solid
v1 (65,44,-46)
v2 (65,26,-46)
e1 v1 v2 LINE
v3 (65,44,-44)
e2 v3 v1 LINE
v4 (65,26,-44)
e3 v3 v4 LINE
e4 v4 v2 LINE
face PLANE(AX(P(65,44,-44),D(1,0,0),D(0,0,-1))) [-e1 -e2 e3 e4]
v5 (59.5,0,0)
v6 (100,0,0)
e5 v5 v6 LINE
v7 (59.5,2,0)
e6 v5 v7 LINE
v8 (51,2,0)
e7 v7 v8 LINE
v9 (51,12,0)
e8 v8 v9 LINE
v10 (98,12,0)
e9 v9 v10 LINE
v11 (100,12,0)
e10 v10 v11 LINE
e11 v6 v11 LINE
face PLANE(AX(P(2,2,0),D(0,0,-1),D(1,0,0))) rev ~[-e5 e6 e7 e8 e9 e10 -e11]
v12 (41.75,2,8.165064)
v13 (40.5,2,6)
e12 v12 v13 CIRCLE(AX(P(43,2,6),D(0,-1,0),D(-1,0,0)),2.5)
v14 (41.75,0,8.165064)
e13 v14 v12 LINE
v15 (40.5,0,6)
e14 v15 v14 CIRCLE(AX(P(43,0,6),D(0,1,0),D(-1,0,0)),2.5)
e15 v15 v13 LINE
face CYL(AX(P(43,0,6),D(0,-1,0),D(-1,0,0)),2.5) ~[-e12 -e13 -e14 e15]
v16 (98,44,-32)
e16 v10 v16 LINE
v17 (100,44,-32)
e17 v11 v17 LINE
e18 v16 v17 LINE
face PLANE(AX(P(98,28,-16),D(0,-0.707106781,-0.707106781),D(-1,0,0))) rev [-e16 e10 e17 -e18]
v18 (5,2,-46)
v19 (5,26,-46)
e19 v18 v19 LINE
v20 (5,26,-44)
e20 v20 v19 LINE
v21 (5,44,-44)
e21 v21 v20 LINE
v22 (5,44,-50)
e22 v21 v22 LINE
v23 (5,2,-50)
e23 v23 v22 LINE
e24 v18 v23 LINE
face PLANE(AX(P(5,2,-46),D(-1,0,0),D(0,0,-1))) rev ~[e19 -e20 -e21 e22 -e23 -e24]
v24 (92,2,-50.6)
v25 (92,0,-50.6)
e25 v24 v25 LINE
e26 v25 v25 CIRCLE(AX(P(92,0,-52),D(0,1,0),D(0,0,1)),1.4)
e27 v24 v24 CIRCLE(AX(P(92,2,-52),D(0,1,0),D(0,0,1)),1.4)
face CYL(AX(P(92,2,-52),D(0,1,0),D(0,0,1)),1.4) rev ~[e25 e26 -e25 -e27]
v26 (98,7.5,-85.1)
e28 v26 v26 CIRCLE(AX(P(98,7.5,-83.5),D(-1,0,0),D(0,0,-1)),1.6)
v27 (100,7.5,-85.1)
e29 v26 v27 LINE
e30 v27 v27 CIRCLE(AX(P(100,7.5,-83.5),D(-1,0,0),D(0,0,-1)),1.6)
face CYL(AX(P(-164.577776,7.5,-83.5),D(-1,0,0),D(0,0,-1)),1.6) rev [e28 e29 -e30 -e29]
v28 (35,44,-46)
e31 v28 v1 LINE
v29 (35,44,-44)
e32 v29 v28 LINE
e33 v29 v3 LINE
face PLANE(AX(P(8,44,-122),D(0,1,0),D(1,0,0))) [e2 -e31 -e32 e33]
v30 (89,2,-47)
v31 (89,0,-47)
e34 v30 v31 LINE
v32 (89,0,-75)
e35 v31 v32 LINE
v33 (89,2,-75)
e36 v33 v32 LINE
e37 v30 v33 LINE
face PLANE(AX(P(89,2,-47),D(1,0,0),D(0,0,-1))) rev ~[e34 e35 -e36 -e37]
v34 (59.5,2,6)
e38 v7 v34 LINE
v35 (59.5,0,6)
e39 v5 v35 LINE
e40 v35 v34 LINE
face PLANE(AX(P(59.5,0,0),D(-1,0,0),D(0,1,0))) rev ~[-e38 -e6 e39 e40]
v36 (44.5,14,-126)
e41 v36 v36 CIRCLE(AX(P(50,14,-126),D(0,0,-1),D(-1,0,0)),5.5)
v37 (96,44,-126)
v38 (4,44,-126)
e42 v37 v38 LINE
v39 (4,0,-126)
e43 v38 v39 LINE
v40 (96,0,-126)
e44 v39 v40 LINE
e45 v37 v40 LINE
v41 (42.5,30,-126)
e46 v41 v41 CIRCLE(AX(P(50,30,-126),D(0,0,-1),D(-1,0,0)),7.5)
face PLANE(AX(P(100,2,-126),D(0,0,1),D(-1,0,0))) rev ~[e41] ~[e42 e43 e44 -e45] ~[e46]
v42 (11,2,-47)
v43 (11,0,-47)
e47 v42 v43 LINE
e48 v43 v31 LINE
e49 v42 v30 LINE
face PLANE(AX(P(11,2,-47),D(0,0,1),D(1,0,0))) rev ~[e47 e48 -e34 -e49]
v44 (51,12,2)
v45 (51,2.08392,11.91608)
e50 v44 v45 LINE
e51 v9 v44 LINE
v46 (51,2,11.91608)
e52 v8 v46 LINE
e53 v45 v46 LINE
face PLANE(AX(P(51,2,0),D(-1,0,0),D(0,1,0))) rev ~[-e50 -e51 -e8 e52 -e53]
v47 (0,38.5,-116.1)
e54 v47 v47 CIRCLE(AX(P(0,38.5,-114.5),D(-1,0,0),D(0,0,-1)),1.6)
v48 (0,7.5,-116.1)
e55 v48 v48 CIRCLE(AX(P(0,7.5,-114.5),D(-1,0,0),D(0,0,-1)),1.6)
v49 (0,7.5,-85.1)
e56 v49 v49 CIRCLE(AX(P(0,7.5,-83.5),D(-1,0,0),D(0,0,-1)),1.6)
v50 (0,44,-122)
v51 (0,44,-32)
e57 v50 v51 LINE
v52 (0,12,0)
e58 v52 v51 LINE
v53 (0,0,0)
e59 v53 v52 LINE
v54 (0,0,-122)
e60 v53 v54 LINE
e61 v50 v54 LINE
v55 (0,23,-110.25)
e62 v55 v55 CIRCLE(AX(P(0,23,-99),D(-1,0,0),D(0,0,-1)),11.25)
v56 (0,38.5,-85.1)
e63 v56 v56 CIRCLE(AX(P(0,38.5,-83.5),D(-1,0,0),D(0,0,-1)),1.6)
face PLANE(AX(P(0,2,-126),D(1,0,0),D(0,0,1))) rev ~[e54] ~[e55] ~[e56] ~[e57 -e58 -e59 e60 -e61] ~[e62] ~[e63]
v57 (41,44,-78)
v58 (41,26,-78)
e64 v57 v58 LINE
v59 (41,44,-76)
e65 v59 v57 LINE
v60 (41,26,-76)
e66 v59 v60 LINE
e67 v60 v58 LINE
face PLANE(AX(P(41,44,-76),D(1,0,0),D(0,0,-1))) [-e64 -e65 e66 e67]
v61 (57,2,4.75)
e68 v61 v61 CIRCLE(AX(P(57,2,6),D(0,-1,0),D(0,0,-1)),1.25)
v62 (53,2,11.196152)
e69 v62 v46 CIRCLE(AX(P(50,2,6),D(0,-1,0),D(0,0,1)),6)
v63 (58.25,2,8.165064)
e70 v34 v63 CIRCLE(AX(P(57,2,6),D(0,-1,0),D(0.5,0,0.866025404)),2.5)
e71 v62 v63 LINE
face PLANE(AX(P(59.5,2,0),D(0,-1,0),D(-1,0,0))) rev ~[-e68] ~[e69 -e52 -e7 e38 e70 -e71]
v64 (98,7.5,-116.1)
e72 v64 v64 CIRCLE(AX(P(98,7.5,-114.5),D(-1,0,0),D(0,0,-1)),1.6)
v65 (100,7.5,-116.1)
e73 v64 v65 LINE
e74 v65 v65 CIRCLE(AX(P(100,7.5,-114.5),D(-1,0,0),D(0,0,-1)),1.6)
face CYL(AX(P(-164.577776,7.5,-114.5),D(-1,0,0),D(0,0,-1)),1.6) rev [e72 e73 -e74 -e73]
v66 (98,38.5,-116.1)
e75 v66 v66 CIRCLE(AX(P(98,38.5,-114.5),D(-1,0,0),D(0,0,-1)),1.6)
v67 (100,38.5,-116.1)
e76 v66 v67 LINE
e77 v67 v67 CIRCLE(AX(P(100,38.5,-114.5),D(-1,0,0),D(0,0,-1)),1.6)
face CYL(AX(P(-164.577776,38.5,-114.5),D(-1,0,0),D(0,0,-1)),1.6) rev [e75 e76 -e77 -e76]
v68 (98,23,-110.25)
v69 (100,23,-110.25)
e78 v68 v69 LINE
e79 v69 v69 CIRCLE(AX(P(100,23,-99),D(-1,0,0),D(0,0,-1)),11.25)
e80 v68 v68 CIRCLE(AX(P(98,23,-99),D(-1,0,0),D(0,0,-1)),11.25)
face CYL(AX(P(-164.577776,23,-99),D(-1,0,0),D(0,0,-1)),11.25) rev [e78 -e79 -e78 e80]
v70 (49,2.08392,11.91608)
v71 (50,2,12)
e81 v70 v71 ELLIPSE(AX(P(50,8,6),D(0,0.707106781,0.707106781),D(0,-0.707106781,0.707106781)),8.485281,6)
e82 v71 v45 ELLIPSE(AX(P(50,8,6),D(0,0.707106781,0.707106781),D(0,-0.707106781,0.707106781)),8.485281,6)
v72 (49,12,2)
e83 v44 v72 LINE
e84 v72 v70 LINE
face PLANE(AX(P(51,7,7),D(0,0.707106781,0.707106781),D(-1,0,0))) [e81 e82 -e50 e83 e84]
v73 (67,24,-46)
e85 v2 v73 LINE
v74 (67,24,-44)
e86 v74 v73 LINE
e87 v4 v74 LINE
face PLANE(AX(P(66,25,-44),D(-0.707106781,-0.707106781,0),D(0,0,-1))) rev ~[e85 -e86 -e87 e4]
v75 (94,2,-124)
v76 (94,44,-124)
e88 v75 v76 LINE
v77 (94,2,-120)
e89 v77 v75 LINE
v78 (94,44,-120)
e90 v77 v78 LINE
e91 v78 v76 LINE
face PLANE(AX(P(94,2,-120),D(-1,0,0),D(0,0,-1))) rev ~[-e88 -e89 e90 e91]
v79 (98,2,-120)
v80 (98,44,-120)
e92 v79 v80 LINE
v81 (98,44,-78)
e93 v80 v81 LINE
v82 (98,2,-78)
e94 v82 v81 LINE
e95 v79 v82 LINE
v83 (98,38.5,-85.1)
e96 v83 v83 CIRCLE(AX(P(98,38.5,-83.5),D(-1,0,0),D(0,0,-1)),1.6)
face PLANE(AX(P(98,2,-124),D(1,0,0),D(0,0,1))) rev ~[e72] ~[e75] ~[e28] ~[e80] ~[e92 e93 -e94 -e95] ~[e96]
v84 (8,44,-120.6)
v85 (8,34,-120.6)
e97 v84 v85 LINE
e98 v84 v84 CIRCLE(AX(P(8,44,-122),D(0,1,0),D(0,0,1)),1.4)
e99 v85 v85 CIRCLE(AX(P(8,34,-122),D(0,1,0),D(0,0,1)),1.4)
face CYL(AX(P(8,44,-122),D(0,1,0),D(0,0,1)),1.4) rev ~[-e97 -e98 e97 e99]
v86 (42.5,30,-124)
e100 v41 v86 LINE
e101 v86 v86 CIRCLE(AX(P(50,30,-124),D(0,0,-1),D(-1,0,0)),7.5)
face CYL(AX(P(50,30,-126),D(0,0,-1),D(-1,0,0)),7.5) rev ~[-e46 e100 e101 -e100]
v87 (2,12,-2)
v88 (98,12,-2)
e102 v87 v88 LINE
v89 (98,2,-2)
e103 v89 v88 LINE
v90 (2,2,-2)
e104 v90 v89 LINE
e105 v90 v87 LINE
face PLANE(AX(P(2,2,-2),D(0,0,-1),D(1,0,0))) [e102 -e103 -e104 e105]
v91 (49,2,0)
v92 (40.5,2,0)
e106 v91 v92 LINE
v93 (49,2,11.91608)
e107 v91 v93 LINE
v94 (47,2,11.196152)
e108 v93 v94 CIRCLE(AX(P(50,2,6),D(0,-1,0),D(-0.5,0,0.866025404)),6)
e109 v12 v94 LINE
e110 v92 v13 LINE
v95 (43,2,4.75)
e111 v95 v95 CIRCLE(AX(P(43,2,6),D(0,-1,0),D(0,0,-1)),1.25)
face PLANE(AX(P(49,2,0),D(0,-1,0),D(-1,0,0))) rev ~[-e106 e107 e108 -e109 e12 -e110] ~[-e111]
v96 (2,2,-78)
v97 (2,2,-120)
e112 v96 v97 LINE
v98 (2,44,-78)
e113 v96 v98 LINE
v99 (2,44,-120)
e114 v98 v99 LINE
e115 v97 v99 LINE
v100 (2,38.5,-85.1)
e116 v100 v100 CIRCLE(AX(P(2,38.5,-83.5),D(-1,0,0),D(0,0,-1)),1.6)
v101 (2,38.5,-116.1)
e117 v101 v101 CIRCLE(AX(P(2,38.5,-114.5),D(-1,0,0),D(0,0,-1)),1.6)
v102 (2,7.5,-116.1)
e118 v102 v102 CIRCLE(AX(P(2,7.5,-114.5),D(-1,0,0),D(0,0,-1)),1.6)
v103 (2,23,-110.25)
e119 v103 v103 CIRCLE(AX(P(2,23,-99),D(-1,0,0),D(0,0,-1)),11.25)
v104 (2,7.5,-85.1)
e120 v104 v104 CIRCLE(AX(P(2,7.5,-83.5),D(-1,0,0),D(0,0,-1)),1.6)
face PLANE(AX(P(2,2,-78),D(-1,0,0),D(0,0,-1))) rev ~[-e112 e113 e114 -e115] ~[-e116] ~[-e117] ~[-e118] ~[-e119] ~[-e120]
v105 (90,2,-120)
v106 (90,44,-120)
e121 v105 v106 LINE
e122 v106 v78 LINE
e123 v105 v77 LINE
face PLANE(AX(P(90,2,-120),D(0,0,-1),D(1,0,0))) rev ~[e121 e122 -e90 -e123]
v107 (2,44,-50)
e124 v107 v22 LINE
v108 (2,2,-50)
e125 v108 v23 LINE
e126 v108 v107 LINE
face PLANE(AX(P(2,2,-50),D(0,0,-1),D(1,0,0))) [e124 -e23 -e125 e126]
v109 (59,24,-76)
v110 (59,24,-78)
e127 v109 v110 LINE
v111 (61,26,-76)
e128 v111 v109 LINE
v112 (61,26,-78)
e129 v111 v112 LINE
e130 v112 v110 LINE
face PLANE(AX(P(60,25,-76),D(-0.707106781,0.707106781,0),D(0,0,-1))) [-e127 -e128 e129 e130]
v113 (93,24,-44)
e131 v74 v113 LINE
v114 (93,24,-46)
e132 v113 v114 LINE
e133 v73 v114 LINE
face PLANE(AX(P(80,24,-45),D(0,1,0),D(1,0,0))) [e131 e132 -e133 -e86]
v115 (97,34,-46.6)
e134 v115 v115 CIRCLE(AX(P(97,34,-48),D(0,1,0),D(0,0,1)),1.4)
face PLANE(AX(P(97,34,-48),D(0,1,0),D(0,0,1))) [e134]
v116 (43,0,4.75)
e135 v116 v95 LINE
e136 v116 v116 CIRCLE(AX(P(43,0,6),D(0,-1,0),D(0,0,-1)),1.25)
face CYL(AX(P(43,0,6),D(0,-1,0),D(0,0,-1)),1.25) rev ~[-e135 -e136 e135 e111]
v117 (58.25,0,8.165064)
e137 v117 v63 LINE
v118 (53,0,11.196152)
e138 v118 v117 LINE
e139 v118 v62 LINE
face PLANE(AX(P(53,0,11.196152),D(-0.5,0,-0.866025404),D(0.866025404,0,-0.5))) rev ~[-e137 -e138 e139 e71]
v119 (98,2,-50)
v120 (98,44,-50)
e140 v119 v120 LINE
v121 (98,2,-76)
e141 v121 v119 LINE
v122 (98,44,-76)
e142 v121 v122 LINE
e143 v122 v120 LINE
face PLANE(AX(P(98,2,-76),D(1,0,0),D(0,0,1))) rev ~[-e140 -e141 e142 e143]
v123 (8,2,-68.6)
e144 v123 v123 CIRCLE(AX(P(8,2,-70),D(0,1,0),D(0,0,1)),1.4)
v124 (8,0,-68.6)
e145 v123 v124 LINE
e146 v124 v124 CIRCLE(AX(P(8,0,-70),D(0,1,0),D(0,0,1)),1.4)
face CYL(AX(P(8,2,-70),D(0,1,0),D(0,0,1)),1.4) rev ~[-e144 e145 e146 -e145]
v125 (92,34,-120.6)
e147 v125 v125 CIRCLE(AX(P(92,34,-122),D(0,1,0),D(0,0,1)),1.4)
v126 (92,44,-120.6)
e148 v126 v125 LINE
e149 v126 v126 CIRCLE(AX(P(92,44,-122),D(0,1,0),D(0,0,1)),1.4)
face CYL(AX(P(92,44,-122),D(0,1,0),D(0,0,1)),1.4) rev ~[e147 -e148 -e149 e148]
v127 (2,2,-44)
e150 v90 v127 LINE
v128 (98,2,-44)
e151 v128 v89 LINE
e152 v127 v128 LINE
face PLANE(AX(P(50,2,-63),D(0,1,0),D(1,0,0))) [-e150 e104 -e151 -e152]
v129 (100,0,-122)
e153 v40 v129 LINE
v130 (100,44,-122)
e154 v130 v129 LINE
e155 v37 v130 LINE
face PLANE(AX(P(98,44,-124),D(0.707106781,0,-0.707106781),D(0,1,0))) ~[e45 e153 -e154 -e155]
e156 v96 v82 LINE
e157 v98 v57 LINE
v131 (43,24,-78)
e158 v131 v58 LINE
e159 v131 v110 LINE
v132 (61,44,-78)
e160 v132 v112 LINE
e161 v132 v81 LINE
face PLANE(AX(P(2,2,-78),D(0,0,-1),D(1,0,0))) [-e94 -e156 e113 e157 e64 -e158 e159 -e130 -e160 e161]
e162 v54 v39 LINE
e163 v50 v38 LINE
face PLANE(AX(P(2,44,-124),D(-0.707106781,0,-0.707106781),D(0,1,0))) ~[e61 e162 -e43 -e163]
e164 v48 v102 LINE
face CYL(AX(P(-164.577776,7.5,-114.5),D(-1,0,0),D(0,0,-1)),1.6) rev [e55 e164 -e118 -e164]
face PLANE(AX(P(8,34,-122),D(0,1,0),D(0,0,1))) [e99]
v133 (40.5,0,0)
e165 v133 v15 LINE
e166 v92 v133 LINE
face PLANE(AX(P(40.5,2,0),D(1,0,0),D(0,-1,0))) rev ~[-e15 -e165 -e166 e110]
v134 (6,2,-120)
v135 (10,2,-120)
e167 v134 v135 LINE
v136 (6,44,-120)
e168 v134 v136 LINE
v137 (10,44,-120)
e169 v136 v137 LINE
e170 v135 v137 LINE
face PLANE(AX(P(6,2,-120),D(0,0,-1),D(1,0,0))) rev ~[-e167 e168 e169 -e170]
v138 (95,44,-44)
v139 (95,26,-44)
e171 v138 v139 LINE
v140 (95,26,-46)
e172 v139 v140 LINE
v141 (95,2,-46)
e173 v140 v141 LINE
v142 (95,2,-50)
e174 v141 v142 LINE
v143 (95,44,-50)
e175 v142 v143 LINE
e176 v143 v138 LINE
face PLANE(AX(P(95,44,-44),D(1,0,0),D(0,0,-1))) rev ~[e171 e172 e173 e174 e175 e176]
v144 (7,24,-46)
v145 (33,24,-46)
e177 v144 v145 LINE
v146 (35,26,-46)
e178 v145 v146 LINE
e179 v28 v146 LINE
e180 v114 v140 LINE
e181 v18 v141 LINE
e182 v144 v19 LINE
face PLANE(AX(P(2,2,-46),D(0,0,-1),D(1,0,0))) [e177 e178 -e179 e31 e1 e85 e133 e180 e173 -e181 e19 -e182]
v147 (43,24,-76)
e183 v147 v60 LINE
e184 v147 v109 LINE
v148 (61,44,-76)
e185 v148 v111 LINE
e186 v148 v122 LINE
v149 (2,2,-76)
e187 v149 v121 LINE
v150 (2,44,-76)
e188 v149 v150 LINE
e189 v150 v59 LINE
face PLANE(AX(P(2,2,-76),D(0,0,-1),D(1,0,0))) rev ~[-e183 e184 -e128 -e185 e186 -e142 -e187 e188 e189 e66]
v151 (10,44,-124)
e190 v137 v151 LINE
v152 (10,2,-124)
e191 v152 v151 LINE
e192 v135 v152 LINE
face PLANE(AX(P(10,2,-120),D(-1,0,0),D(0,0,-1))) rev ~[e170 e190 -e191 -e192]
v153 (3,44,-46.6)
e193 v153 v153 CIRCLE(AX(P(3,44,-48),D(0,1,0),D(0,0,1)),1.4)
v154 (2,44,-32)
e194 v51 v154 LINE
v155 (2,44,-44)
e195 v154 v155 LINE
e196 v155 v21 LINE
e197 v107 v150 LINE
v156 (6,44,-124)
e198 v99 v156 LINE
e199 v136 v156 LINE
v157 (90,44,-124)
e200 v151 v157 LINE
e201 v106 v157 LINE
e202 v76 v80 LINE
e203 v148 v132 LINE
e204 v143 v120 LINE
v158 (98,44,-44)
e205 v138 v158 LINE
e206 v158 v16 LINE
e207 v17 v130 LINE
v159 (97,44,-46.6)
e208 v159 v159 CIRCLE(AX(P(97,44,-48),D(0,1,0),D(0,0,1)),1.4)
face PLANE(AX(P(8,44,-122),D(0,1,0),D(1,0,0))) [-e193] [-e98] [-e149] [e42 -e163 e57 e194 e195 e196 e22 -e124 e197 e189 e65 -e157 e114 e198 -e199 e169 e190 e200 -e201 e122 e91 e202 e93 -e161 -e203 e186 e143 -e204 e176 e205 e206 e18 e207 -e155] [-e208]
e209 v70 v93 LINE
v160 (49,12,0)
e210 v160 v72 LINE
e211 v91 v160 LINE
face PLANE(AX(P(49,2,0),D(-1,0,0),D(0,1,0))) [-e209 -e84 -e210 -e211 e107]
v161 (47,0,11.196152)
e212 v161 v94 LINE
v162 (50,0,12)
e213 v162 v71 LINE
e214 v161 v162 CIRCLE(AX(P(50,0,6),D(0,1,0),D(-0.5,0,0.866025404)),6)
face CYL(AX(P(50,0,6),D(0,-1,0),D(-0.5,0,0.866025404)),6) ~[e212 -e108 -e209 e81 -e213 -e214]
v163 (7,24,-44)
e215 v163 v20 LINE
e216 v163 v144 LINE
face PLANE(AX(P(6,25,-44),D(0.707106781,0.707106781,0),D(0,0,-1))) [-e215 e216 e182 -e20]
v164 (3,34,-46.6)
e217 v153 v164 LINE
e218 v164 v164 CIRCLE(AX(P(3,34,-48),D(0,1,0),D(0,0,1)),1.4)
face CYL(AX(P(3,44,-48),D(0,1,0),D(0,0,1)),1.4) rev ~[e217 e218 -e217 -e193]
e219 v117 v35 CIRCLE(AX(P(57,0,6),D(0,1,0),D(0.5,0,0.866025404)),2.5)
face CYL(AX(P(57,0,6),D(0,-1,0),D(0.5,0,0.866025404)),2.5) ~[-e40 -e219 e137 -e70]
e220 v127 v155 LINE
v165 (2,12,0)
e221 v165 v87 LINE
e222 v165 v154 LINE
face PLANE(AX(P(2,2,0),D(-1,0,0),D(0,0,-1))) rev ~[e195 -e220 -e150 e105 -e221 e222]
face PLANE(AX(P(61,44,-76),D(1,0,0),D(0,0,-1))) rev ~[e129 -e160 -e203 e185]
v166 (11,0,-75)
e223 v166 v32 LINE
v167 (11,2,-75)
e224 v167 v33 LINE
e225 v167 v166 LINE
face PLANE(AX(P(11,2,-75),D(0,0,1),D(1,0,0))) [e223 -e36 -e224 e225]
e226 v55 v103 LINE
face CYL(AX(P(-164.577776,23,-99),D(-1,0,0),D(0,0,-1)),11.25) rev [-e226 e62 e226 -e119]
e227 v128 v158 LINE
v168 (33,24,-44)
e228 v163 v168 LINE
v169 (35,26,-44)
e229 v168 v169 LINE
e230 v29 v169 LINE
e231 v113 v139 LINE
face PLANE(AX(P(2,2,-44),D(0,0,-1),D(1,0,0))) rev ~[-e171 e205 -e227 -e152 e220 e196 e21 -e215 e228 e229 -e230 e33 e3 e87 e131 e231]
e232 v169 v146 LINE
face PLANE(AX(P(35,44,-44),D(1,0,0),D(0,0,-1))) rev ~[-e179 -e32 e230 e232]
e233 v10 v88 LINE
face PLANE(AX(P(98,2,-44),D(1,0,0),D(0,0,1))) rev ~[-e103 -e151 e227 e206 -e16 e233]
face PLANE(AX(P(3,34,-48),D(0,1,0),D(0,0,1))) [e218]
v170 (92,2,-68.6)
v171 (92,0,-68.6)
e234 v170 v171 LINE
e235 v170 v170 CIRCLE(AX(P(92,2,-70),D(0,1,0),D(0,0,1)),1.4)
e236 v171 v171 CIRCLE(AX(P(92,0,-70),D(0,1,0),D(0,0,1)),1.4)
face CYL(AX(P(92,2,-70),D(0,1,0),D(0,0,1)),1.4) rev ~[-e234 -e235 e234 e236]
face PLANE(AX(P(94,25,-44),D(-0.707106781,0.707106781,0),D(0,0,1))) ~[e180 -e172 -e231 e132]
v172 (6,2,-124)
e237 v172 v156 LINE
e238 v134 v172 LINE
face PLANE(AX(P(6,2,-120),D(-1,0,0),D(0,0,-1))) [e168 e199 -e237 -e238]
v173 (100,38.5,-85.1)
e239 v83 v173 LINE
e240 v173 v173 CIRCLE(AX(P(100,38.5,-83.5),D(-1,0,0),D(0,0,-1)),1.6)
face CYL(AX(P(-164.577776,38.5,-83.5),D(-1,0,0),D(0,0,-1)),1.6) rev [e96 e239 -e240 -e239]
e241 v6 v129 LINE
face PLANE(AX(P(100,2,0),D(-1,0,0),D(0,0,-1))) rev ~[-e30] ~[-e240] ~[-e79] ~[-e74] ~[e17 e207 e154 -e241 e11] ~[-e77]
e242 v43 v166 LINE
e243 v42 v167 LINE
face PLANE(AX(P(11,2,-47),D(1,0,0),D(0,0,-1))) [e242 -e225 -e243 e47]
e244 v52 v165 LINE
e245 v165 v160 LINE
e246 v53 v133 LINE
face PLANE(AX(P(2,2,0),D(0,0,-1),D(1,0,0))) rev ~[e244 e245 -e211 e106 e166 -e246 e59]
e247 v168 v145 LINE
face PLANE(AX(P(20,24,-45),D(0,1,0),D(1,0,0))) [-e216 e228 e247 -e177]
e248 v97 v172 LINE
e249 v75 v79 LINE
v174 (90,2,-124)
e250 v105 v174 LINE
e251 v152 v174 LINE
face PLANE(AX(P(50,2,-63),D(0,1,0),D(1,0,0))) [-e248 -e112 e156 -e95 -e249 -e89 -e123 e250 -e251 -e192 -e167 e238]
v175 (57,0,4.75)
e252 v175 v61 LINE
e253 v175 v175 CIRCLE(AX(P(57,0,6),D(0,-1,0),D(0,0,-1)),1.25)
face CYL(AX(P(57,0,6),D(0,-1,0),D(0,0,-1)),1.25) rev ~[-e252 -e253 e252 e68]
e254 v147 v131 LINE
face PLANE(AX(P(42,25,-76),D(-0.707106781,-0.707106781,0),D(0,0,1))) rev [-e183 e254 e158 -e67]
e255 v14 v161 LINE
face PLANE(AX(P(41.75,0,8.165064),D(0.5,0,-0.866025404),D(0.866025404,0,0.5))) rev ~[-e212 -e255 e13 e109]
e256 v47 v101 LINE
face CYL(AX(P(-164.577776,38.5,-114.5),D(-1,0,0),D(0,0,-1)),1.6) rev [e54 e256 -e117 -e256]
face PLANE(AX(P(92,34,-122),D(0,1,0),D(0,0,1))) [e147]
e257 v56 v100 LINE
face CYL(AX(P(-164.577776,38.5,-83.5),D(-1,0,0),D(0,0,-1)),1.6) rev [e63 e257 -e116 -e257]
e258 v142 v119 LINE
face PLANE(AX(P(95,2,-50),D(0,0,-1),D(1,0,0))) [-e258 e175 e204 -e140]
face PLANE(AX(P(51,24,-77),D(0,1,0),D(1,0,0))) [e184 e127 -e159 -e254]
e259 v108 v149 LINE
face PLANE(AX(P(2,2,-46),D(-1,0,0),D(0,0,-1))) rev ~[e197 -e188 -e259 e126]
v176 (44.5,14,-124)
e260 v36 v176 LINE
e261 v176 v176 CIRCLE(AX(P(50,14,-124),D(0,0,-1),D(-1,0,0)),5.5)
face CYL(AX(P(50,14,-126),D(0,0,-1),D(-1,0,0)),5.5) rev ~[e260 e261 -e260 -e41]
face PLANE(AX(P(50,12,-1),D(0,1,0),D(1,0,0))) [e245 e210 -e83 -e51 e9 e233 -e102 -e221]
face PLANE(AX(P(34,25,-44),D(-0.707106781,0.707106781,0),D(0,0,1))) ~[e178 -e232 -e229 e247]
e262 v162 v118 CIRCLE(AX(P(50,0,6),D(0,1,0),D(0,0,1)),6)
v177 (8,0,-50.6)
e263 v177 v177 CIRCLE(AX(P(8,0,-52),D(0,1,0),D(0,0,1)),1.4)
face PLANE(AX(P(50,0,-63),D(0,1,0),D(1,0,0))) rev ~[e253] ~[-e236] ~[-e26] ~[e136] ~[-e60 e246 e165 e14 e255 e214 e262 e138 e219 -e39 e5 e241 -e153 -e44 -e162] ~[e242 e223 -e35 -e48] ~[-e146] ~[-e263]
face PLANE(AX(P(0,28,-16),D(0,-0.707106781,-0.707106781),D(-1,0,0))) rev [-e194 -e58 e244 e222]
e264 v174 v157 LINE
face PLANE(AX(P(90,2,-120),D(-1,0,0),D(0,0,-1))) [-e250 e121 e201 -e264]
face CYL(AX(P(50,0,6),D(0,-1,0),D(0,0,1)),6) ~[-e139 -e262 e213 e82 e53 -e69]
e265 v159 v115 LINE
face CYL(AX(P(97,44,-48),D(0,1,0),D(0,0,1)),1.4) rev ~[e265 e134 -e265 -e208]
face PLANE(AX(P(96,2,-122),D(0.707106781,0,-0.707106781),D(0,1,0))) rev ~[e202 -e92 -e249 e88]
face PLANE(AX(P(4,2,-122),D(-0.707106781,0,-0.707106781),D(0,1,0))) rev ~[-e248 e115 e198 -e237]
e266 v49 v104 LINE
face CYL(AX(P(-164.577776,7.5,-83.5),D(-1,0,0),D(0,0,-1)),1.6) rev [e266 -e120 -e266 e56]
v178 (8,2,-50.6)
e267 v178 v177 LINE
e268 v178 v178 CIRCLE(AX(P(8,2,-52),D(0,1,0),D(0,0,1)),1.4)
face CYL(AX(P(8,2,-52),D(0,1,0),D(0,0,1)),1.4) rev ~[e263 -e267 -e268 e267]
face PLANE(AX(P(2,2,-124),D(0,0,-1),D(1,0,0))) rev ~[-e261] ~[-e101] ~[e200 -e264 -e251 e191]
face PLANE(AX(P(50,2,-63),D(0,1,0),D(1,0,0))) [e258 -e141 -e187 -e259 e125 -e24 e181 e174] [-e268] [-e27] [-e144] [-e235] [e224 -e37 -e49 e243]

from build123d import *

# Parameters (mm, degrees)
SKETCH1_W               = 100
SKETCH1_H               = 126
BOSS_EXTRUDE1_DEPTH     = 2
SKETCH2_W               = 96
SKETCH2_H               = 2
BOSS_EXTRUDE2_DEPTH     = 42
CHAMFER1_SIZE           = 32
CHAMFER2_SIZE           = 4
CUT_EXTRUDE1_DEPTH      = 166.577776287
CUT_EXTRUDE1_DEPTH_BACK = 166.577776287
SKETCH4_R               = 11.25
SKETCH4_R_2             = 1.6
SKETCH5_R               = 1.4
SKETCH5_W               = 78
SKETCH5_H               = 28
CUT_EXTRUDE2_DEPTH      = 167.252819525
SKETCH6_W               = 96
SKETCH6_H               = 2
BOSS_EXTRUDE3_DEPTH     = 10
SKETCH9_W               = 4
SKETCH9_H               = 4
SKETCH9_W_2             = 3
BOSS_EXTRUDE5_DEPTH     = 42
SKETCH10_R              = 1.4
CUT_EXTRUDE4_DEPTH      = 10
SKETCH11_W              = 30
SKETCH11_H              = 2
SKETCH11_W_2            = 20
CUT_EXTRUDE5_DEPTH      = 20
CHAMFER4_SIZE           = 2
SKETCH12_R              = 5.5
SKETCH12_R_2            = 7.5
CUT_EXTRUDE6_DEPTH      = 2
SKETCH13_W              = 1
SKETCH13_H              = 10
BOSS_EXTRUDE6_DEPTH     = 12
CHAMFER5_SIZE           = 10
SKETCH14_R              = 1.25
CUT_EXTRUDE7_DEPTH      = 2.3


with BuildPart() as part:
    # Sketch1 → Boss-Extrude1 (new body)
    with BuildSketch(Plane(origin=(0, 0, 0), x_dir=(1, 0, 0), z_dir=(0, 1, 0))):
        with Locations((50, 63)):
            Rectangle(SKETCH1_W, SKETCH1_H)
    extrude(amount=BOSS_EXTRUDE1_DEPTH)

    # Sketch2 → Boss-Extrude2 (add)
    with BuildSketch(Plane(origin=(0, 2, 0), x_dir=(1, 0, 0), z_dir=(0, 1, 0))):
        Polygon((0, 126), (0, 0), (2, 0), (2, 44), (2, 46), (2, 76), (2, 78), (2, 124), (98, 124), (98, 78), (98, 76), (98, 46), (98, 44), (98, 0), (100, 0), (100, 126), align=None)
        with Locations((50, 77)):
            Rectangle(SKETCH2_W, SKETCH2_H)
        with Locations((50, 45)):
            Rectangle(SKETCH2_W, SKETCH2_H)
    extrude(amount=BOSS_EXTRUDE2_DEPTH)

    # Chamfer1
    chamfer1_edges = [part.edges().sort_by_distance(p)[0] for p in [
        (99, 44, 0),
        (1, 44, 0),
    ]]
    chamfer(chamfer1_edges, length=CHAMFER1_SIZE)

    # Chamfer2
    chamfer2_edges = [part.edges().sort_by_distance(p)[0] for p in [
        (2, 23, -124),
        (98, 23, -124),
        (0, 22, -126),
        (100, 22, -126),
    ]]
    chamfer(chamfer2_edges, length=CHAMFER2_SIZE)

    # Sketch4 → Cut-Extrude1 (cut, two sides: drawn at the far end of the back side and taken through both)
    with BuildSketch(Plane(origin=(2, 0, 0), x_dir=(0, 0, -1), z_dir=(1, 0, 0)).offset(-CUT_EXTRUDE1_DEPTH_BACK)):
        with Locations((99, 23)):
            Circle(SKETCH4_R)
        with Locations((83.5, 38.5)):
            Circle(SKETCH4_R_2)
        with Locations((114.5, 38.5)):
            Circle(SKETCH4_R_2)
        with Locations((114.5, 7.5)):
            Circle(SKETCH4_R_2)
        with Locations((83.5, 7.5)):
            Circle(SKETCH4_R_2)
    extrude(amount=CUT_EXTRUDE1_DEPTH + CUT_EXTRUDE1_DEPTH_BACK, mode=Mode.SUBTRACT)

    # Sketch5 → Cut-Extrude2 (cut, through all)
    with BuildSketch(Plane(origin=(0, 2, 0), x_dir=(1, 0, 0), z_dir=(0, 1, 0))):
        with Locations(Location((8, 70, 0), (0, 0, 270))):
            Circle(SKETCH5_R)
        with Locations(Location((8, 52, 0), (0, 0, 270))):
            Circle(SKETCH5_R)
        with Locations(Location((92, 70, 0), (0, 0, 270))):
            Circle(SKETCH5_R)
        with Locations(Location((92, 52, 0), (0, 0, 270))):
            Circle(SKETCH5_R)
        with Locations((50, 61)):
            Rectangle(SKETCH5_W, SKETCH5_H)
    extrude(amount=-CUT_EXTRUDE2_DEPTH, mode=Mode.SUBTRACT)

    # Sketch6 → Boss-Extrude3 (add)
    with BuildSketch(Plane(origin=(0, 2, 0), x_dir=(1, 0, 0), z_dir=(0, 1, 0))):
        with Locations((50, 1)):
            Rectangle(SKETCH6_W, SKETCH6_H)
    extrude(amount=BOSS_EXTRUDE3_DEPTH)

    # Sketch9 → Boss-Extrude5 (add)
    with BuildSketch(Plane(origin=(0, 2, 0), x_dir=(1, 0, 0), z_dir=(0, 1, 0))):
        with Locations((8, 122)):
            Rectangle(SKETCH9_W, SKETCH9_H)
        with Locations((92, 122)):
            Rectangle(SKETCH9_W, SKETCH9_H)
        with Locations((96.5, 48)):
            Rectangle(SKETCH9_W_2, SKETCH9_H)
        with Locations((3.5, 48)):
            Rectangle(SKETCH9_W_2, SKETCH9_H)
    extrude(amount=BOSS_EXTRUDE5_DEPTH)

    # Sketch10 → Cut-Extrude4 (cut)
    with BuildSketch(Plane(origin=(0, 44, 0), x_dir=(1, 0, 0), z_dir=(0, 1, 0))):
        with Locations(Location((3, 48, 0), (0, 0, 270))):
            Circle(SKETCH10_R)
        with Locations(Location((97, 48, 0), (0, 0, 270))):
            Circle(SKETCH10_R)
        with Locations(Location((92, 122, 0), (0, 0, 270))):
            Circle(SKETCH10_R)
        with Locations(Location((8, 122, 0), (0, 0, 270))):
            Circle(SKETCH10_R)
    extrude(amount=-CUT_EXTRUDE4_DEPTH, mode=Mode.SUBTRACT)

    # Sketch11 → Cut-Extrude5 (cut)
    with BuildSketch(Plane(origin=(0, 44, 0), x_dir=(1, 0, 0), z_dir=(0, 1, 0))):
        with Locations((80, 45)):
            Rectangle(SKETCH11_W, SKETCH11_H)
        with Locations((20, 45)):
            Rectangle(SKETCH11_W, SKETCH11_H)
        with Locations((51, 77)):
            Rectangle(SKETCH11_W_2, SKETCH11_H)
    extrude(amount=-CUT_EXTRUDE5_DEPTH, mode=Mode.SUBTRACT)

    # Chamfer4
    chamfer4_edges = [part.edges().sort_by_distance(p)[0] for p in [
        (41, 24, -77),
        (61, 24, -77),
        (95, 24, -45),
        (65, 24, -45),
        (5, 24, -45),
        (35, 24, -45),
    ]]
    chamfer(chamfer4_edges, length=CHAMFER4_SIZE)

    # Sketch12 → Cut-Extrude6 (cut)
    with BuildSketch(Plane(origin=(0, 0, -126), x_dir=(-1, 0, 0), z_dir=(0, 0, -1))):
        with Locations((-50, 14)):
            Circle(SKETCH12_R)
        with Locations((-50, 30)):
            Circle(SKETCH12_R_2)
    extrude(amount=-CUT_EXTRUDE6_DEPTH, mode=Mode.SUBTRACT)

    # Sketch13 → Boss-Extrude6 (add)
    with BuildSketch(Plane.XY):
        Polygon((51, 2), (50, 2), (50, 0), (59.5, 0), (59.5, 2), align=None)
        Polygon((50, 0), (50, 2), (49, 2), (40.5, 2), (40.5, 0), align=None)
        with Locations((50.5, 7)):
            Rectangle(SKETCH13_W, SKETCH13_H)
        with Locations((49.5, 7)):
            Rectangle(SKETCH13_W, SKETCH13_H)
    extrude(amount=BOSS_EXTRUDE6_DEPTH)

    # Chamfer5
    chamfer5_edges = [part.edges().sort_by_distance(p)[0] for p in [
        (50, 12, 12),
    ]]
    chamfer(chamfer5_edges, length=CHAMFER5_SIZE)

    # Sketch14 → Cut-Extrude7 (cut)
    with BuildSketch(Plane.XZ):
        with BuildLine():
            ThreePointArc((40.5, 6), (40.834936491, 7.25), (41.75, 8.165063509))
            Line((41.75, 8.165063509), (47, 11.196152423))
            ThreePointArc((47, 11.196152423), (48.447085729, 11.795554958), (50, 12))
            Line((50, 12), (40.5, 12))
            Line((40.5, 12), (40.5, 6))
        make_face()
        with BuildLine():
            Line((59.5, 12), (50, 12))
            ThreePointArc((50, 12), (51.552914271, 11.795554958), (53, 11.196152423))
            Line((53, 11.196152423), (58.25, 8.165063509))
            ThreePointArc((58.25, 8.165063509), (59.165063509, 7.25), (59.5, 6))
            Line((59.5, 6), (59.5, 12))
        make_face()
        with Locations(Location((57, 6, 0), (0, 0, 270))):
            Circle(SKETCH14_R)
        with Locations(Location((43, 6, 0), (0, 0, 270))):
            Circle(SKETCH14_R)
    extrude(amount=-CUT_EXTRUDE7_DEPTH, mode=Mode.SUBTRACT)


solid = part.part
